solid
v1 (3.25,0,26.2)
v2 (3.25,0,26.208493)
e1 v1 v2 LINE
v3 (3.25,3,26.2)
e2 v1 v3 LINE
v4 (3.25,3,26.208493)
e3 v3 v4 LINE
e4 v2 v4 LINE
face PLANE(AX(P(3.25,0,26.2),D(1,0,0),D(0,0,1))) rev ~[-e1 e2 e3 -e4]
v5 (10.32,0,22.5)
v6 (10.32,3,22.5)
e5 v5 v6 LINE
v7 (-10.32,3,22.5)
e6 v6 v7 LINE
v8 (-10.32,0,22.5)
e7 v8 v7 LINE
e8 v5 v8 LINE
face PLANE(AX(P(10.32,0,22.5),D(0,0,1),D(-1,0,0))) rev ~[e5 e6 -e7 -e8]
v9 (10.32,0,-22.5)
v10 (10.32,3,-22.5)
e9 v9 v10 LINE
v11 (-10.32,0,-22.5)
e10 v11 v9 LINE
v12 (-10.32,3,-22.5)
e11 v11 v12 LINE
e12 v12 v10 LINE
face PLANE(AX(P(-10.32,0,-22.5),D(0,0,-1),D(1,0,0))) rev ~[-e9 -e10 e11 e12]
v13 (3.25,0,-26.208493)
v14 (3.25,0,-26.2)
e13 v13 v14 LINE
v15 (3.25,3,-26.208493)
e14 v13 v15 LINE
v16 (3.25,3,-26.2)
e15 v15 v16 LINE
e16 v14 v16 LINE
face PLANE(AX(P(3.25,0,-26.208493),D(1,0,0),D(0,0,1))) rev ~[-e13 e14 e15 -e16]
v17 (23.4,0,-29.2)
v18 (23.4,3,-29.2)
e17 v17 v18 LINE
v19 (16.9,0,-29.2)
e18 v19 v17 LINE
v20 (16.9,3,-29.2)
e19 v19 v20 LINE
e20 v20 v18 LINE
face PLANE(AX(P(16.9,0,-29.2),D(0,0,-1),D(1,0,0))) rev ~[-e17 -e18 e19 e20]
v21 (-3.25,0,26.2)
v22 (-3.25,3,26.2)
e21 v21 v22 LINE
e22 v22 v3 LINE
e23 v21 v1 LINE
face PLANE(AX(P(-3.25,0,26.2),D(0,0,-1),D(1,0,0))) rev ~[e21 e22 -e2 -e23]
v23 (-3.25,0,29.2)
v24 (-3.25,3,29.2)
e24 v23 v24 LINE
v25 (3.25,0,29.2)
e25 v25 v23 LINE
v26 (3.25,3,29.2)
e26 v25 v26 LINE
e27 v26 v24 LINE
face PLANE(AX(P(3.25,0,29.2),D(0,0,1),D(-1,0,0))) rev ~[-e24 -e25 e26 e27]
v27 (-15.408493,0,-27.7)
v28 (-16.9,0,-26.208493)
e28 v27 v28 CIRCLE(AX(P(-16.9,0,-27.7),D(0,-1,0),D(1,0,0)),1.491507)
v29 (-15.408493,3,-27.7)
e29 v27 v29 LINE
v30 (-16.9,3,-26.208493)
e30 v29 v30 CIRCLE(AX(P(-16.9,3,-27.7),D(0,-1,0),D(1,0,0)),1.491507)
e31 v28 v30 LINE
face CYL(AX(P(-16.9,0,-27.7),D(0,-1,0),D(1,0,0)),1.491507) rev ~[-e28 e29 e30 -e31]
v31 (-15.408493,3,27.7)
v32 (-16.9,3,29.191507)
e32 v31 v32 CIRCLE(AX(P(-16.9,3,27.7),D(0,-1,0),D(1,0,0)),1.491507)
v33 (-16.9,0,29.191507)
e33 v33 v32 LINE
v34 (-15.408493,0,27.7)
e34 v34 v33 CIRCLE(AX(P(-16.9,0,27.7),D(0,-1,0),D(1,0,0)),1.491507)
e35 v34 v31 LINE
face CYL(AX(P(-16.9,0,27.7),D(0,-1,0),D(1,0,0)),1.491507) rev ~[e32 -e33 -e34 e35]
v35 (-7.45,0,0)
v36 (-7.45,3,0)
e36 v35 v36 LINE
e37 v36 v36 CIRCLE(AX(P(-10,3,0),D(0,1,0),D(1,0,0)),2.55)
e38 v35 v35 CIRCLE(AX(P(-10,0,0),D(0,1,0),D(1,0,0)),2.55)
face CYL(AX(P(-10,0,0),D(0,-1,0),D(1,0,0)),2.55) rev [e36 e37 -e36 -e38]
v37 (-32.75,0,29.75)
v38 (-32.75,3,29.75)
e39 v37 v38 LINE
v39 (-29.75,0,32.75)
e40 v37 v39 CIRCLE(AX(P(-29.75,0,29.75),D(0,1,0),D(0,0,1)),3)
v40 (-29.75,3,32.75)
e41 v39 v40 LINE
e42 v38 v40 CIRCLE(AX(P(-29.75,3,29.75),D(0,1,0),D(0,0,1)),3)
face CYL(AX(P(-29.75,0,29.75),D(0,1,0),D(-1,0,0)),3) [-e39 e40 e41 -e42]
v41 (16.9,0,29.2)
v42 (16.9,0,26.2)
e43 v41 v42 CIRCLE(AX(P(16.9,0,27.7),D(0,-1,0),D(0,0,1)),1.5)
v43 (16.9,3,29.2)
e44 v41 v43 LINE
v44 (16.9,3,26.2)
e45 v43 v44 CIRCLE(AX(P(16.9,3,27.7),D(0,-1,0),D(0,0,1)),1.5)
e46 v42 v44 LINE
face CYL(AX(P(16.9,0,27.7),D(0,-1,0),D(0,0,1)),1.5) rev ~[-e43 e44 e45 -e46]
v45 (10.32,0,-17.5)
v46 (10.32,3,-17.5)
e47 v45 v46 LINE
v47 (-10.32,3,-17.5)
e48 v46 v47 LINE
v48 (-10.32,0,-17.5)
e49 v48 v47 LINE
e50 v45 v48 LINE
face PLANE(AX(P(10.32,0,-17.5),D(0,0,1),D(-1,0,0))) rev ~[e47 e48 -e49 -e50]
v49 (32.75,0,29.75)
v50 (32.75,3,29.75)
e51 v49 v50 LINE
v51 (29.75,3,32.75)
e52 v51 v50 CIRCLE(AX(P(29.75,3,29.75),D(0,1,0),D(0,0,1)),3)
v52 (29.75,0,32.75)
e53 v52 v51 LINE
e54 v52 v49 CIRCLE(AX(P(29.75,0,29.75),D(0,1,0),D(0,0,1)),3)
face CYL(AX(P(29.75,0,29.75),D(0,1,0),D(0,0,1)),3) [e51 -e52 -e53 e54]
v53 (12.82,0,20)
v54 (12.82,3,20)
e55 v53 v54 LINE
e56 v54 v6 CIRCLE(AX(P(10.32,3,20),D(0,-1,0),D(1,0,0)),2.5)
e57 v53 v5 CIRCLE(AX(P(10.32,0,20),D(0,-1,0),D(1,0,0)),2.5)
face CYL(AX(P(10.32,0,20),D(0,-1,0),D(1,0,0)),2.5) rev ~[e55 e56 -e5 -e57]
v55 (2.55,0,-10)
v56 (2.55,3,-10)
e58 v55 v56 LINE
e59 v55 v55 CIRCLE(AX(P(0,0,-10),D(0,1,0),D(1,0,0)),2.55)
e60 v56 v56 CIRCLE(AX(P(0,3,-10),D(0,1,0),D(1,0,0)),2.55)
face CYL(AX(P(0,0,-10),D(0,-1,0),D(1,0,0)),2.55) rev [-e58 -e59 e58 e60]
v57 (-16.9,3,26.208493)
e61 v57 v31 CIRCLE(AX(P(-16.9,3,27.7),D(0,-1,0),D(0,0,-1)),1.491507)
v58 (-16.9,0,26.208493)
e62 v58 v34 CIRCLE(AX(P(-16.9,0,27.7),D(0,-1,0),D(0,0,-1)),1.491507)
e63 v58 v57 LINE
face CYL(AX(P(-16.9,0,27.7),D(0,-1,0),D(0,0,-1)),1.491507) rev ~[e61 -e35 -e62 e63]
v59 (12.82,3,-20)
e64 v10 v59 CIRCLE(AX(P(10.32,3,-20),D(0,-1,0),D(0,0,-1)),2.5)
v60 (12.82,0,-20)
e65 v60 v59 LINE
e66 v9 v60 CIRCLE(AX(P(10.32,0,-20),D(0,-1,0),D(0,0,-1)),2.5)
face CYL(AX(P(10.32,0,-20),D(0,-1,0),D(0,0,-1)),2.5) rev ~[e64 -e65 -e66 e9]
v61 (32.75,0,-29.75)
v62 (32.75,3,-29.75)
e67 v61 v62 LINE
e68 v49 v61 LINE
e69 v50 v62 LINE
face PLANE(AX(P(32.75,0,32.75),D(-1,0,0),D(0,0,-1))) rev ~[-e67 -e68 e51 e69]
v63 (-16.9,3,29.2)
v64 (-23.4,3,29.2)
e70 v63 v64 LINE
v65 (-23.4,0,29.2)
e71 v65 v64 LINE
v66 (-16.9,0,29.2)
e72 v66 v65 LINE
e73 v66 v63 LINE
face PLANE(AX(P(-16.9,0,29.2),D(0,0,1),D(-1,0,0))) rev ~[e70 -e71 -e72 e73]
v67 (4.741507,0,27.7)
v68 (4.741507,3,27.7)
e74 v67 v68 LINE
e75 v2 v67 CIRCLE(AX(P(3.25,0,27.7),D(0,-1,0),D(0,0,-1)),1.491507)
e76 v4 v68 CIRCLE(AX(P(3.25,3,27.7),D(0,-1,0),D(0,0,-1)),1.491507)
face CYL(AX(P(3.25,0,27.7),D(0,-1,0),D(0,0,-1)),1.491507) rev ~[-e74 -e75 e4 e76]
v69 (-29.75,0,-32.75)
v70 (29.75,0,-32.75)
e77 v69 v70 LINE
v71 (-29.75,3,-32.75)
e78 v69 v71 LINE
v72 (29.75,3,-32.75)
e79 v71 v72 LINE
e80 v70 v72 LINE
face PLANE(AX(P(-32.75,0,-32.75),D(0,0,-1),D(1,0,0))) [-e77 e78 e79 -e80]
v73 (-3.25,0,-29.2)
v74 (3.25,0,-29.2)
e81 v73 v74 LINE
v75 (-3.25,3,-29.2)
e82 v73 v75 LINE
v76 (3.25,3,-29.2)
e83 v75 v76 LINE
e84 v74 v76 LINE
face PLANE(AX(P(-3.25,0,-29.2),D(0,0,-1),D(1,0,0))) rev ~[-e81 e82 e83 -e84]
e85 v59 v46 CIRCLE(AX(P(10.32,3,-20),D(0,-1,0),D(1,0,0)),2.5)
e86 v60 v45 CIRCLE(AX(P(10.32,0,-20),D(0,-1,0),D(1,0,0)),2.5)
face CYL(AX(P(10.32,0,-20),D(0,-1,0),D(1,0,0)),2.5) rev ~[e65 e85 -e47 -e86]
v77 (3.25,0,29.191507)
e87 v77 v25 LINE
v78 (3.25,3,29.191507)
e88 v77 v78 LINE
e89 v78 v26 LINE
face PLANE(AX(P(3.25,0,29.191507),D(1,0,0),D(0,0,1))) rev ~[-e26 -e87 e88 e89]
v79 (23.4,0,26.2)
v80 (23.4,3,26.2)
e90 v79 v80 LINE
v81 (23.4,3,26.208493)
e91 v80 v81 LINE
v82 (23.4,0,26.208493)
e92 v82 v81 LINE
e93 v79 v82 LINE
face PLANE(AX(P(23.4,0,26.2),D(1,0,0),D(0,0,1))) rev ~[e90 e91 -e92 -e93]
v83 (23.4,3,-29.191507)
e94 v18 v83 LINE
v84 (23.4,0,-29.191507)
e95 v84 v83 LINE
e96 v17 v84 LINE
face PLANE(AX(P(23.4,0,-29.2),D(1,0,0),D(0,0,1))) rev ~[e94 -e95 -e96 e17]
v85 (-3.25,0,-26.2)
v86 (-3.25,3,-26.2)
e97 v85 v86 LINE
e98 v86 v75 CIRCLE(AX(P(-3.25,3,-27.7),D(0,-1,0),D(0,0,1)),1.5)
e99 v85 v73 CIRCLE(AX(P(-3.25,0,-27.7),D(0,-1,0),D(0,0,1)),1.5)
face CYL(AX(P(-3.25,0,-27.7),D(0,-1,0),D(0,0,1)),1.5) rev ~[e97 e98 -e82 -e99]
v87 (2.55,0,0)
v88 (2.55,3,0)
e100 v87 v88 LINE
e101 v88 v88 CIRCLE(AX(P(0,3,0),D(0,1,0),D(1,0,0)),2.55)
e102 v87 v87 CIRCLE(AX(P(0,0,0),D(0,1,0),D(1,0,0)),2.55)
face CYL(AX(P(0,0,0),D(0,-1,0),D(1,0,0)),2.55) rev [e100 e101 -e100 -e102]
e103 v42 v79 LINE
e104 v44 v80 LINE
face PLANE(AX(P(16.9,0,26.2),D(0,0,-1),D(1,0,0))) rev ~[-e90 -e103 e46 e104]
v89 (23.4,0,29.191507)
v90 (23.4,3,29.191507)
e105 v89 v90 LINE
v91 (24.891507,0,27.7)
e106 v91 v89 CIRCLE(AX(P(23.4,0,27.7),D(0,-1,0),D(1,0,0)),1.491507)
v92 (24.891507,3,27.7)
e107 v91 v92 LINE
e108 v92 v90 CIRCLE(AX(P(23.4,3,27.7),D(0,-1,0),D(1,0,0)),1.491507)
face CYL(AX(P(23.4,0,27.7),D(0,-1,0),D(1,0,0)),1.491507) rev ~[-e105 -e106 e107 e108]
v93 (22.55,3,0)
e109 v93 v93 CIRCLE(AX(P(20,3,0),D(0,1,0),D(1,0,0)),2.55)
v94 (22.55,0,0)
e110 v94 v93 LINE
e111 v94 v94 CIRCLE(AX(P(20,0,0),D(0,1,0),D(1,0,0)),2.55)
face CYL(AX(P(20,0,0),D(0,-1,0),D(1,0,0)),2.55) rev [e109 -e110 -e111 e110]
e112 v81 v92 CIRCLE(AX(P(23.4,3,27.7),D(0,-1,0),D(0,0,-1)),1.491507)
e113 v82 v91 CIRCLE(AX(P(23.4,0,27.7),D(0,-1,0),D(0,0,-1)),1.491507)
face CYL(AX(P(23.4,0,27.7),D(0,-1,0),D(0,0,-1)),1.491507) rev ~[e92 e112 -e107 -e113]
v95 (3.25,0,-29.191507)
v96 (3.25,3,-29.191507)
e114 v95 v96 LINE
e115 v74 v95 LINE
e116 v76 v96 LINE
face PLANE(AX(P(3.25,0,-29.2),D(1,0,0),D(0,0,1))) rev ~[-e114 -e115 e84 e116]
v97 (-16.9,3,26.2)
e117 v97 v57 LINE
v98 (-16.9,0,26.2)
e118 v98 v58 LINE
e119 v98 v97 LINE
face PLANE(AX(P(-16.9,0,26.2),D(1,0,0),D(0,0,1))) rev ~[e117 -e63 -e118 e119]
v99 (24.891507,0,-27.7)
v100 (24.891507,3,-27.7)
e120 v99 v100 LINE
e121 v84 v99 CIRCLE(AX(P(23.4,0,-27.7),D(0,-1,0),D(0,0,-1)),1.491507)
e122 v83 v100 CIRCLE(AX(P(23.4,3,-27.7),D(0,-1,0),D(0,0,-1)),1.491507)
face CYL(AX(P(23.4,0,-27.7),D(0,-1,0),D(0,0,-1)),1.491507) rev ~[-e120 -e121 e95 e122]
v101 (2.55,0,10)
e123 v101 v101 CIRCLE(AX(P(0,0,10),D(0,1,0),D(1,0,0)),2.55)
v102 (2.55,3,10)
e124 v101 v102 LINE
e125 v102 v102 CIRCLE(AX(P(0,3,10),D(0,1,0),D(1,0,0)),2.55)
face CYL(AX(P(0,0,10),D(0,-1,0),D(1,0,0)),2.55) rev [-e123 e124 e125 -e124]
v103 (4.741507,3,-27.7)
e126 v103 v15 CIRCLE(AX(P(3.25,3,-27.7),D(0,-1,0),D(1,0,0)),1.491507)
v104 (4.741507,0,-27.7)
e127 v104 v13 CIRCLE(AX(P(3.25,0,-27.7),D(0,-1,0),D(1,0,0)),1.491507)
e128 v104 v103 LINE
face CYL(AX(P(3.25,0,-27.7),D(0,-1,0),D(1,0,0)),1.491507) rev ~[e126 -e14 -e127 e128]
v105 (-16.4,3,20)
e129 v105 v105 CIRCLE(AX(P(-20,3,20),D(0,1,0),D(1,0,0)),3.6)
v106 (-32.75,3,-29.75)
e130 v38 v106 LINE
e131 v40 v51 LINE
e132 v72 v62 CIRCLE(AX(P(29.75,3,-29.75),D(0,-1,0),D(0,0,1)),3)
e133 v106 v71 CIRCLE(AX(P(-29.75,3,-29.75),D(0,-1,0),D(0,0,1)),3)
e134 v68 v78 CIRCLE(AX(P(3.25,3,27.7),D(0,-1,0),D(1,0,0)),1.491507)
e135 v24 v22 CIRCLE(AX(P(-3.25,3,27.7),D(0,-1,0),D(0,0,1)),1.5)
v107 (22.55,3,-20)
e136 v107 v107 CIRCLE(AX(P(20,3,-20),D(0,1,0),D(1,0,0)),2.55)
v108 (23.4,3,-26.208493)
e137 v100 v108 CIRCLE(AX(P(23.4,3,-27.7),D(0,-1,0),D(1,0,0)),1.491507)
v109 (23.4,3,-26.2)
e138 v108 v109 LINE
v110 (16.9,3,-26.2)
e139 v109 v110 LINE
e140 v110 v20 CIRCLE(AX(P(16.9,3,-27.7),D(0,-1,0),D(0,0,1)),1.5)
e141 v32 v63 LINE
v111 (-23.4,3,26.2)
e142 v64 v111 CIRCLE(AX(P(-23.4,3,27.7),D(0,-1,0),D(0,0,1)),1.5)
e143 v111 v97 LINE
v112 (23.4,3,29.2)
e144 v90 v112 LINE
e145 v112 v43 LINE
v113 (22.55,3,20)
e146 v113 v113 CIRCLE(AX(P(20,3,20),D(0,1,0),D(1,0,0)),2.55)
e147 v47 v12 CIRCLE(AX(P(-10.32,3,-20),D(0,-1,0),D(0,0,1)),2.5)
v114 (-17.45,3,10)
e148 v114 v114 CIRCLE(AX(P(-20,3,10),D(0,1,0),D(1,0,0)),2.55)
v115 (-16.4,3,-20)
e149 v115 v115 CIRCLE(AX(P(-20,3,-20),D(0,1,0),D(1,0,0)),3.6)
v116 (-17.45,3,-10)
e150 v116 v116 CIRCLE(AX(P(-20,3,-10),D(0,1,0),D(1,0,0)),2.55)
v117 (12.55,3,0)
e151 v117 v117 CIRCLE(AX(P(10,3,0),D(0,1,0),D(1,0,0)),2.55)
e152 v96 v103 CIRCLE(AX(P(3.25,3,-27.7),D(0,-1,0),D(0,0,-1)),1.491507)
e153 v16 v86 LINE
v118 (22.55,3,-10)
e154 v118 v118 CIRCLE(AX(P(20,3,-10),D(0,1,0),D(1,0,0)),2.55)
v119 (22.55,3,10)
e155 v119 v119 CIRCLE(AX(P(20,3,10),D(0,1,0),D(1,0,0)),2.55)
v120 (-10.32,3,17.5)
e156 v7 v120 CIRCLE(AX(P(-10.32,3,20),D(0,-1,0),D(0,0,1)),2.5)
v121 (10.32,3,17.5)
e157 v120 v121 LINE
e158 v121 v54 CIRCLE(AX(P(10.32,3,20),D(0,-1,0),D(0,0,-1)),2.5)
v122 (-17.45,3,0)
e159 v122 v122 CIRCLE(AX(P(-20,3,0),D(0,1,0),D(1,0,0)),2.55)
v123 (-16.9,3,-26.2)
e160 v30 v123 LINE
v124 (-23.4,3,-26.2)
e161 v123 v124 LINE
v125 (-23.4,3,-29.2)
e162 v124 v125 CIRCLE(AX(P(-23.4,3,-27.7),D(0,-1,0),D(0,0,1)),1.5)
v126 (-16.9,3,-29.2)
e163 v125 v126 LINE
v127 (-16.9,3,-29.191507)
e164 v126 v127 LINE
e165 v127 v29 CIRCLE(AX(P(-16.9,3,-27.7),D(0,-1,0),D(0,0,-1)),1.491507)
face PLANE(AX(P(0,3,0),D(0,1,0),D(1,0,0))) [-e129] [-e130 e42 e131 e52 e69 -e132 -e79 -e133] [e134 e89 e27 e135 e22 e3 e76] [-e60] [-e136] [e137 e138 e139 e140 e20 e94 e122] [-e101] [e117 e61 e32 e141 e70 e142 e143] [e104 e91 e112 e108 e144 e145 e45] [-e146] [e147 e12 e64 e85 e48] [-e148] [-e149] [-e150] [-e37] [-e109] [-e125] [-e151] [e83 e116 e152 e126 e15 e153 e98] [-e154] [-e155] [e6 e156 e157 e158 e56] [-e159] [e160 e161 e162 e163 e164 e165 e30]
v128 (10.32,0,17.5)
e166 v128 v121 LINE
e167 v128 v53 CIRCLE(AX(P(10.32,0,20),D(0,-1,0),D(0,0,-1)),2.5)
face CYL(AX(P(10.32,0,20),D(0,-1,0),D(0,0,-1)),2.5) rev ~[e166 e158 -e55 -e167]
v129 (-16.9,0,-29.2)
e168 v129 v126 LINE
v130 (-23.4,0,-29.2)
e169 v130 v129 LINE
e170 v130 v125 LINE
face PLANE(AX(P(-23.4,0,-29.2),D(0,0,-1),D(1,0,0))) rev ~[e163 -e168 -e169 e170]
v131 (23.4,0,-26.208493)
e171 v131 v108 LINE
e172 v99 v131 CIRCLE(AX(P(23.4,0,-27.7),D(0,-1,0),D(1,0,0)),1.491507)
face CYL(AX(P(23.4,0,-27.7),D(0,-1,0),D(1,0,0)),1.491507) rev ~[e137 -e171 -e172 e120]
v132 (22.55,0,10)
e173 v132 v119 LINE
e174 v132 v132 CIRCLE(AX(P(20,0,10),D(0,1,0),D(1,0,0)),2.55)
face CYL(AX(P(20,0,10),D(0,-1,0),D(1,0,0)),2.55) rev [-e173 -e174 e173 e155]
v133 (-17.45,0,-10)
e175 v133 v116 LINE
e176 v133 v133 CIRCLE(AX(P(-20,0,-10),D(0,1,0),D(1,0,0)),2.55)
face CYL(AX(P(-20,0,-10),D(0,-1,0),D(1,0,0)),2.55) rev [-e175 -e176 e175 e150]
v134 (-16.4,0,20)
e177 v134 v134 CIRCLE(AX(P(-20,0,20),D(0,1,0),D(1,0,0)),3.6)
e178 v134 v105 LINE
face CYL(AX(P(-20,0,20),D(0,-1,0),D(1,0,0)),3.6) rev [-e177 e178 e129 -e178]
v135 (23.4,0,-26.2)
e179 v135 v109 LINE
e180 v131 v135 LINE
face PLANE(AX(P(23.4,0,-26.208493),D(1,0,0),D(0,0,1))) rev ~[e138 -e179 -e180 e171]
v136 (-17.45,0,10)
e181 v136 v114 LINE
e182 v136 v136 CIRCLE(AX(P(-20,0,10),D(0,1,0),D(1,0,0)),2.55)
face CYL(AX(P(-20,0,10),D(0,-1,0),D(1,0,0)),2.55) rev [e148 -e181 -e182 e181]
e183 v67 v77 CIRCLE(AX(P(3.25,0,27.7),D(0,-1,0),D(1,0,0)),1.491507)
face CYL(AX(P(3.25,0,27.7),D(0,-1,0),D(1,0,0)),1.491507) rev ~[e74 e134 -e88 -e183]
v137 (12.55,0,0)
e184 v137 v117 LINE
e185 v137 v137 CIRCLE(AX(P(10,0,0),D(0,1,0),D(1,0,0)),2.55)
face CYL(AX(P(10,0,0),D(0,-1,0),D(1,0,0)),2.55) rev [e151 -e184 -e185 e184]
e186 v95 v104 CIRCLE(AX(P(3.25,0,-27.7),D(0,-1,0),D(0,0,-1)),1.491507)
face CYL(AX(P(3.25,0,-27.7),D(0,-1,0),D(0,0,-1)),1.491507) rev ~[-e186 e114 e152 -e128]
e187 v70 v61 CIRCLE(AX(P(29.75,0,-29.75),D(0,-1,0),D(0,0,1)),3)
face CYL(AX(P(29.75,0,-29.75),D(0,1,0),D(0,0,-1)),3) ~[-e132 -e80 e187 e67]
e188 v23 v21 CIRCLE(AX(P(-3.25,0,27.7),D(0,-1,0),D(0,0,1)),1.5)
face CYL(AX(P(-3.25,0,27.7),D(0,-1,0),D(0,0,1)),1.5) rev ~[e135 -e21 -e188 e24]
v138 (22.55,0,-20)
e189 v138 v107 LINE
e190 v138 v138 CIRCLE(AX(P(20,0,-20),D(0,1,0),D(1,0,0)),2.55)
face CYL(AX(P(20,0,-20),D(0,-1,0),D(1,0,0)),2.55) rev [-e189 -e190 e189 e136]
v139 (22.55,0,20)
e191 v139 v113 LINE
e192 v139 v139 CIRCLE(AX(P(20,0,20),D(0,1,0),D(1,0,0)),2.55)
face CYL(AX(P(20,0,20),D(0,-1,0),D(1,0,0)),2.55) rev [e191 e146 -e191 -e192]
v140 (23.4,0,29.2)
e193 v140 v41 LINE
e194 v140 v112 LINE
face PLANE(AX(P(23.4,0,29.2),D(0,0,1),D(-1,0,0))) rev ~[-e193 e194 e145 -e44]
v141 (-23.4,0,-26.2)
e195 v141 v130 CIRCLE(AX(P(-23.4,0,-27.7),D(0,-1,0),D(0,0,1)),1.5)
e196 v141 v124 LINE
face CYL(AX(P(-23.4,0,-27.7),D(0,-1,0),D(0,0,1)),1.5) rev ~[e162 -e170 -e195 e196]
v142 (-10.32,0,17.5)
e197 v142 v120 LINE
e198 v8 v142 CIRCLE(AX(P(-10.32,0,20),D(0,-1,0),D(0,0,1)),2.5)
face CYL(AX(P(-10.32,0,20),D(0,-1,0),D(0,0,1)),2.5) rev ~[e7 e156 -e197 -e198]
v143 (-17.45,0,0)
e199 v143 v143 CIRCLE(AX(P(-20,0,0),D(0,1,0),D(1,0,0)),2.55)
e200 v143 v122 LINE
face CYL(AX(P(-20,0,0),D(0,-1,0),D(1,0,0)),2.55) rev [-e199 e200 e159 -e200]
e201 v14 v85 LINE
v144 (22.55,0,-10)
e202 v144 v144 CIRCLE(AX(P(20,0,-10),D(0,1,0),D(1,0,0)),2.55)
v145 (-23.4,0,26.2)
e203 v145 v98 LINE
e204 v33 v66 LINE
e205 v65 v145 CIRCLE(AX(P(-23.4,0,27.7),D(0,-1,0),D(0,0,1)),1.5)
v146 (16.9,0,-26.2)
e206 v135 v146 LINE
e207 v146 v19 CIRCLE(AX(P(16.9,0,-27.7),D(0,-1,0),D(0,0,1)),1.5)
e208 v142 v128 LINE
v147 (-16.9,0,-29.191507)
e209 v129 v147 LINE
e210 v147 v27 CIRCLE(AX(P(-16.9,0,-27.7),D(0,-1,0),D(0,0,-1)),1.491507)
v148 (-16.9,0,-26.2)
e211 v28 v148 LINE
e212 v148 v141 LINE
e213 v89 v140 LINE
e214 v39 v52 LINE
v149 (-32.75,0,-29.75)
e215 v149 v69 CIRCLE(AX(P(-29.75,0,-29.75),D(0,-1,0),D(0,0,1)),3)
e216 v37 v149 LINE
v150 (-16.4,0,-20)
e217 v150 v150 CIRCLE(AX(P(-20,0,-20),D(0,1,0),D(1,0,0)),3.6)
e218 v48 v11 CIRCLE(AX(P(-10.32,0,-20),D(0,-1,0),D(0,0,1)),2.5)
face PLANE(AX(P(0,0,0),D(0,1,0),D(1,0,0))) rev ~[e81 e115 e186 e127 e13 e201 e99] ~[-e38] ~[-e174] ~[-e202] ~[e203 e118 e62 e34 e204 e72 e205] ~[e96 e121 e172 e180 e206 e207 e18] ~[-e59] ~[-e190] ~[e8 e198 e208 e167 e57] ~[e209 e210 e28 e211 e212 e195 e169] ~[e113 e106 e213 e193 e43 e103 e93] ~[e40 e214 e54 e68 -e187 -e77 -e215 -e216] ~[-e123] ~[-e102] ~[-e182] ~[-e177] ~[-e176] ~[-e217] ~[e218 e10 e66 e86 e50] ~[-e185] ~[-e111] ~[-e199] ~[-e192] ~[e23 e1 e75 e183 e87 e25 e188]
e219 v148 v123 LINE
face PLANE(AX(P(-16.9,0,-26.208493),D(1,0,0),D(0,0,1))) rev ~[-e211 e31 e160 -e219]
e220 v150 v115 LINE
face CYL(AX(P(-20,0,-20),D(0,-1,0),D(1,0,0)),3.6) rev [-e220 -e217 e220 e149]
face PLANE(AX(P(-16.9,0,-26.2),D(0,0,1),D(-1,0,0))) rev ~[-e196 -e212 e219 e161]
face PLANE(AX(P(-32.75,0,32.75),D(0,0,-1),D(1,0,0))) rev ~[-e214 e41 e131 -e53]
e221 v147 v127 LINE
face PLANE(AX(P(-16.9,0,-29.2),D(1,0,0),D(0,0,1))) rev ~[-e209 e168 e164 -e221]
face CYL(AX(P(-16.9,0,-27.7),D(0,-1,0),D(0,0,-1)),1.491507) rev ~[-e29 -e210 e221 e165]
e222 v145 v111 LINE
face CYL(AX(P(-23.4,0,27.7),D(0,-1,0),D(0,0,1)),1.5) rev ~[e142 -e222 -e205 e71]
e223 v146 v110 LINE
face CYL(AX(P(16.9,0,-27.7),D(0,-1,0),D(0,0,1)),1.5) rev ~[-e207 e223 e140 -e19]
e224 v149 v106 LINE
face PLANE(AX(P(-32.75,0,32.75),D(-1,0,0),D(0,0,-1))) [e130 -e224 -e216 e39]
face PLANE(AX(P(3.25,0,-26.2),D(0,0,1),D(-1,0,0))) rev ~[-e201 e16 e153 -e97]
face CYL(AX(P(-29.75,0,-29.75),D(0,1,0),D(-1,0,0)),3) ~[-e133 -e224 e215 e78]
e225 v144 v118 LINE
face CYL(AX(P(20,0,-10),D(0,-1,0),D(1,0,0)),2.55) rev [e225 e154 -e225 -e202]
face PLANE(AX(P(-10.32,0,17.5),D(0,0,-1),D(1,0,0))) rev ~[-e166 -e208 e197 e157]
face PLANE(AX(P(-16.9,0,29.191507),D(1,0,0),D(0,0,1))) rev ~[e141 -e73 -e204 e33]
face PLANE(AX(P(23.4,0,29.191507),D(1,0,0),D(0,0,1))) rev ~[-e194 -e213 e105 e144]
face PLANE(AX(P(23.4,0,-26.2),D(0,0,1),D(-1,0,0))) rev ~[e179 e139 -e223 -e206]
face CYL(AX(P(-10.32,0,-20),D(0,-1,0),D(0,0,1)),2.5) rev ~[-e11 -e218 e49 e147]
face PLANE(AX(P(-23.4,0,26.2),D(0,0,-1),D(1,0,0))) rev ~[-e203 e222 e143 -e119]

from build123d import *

# Parameters (mm, degrees)
SKETCH1_W           = 65.5
SKETCH1_H           = 65.5
SKETCH1_R           = 3.6
SKETCH1_R_2         = 2.55
BOSS_EXTRUDE1_DEPTH = 3
FILLET2_R           = 3


with BuildPart() as part:
    # Sketch1 → Boss-Extrude1 (new body)
    with BuildSketch(Plane(origin=(0, 0, 0), x_dir=(1, 0, 0), z_dir=(0, 1, 0))):
        Rectangle(SKETCH1_W, SKETCH1_H)
        with BuildLine():
            Line((-16.9, -29.191507266), (-16.9, -29.2))
            Line((-16.9, -29.2), (-23.4, -29.2))
            ThreePointArc((-23.4, -29.2), (-24.9, -27.7), (-23.4, -26.2))
            Line((-23.4, -26.2), (-16.9, -26.2))
            Line((-16.9, -26.2), (-16.9, -26.208492734))
            ThreePointArc((-16.9, -26.208492734), (-15.845345098, -26.645345098), (-15.408492734, -27.7))
            ThreePointArc((-15.408492734, -27.7), (-15.845345098, -28.754654902), (-16.9, -29.191507266))
        make_face(mode=Mode.SUBTRACT)
        with Locations((-20, -20)):
            Circle(SKETCH1_R, mode=Mode.SUBTRACT)
        with BuildLine():
            Line((-3.25, -26.2), (3.25, -26.2))
            Line((3.25, -26.2), (3.25, -26.208492734))
            ThreePointArc((3.25, -26.208492734), (4.304654902, -26.645345098), (4.741507266, -27.7))
            ThreePointArc((4.741507266, -27.7), (4.304654902, -28.754654902), (3.25, -29.191507266))
            Line((3.25, -29.191507266), (3.25, -29.2))
            Line((3.25, -29.2), (-3.25, -29.2))
            ThreePointArc((-3.25, -29.2), (-4.75, -27.7), (-3.25, -26.2))
        make_face(mode=Mode.SUBTRACT)
        with BuildLine():
            Line((-10.32, -17.5), (10.32, -17.5))
            ThreePointArc((10.32, -17.5), (12.087766953, -18.232233047), (12.82, -20))
            ThreePointArc((12.82, -20), (12.087766953, -21.767766953), (10.32, -22.5))
            Line((10.32, -22.5), (-10.32, -22.5))
            ThreePointArc((-10.32, -22.5), (-12.82, -20), (-10.32, -17.5))
        make_face(mode=Mode.SUBTRACT)
        with Locations((-20, -10)):
            Circle(SKETCH1_R_2, mode=Mode.SUBTRACT)
        with Locations((0, -10)):
            Circle(SKETCH1_R_2, mode=Mode.SUBTRACT)
        with BuildLine():
            Line((23.4, -29.191507266), (23.4, -29.2))
            Line((23.4, -29.2), (16.9, -29.2))
            ThreePointArc((16.9, -29.2), (15.4, -27.7), (16.9, -26.2))
            Line((16.9, -26.2), (23.4, -26.2))
            Line((23.4, -26.2), (23.4, -26.208492734))
            ThreePointArc((23.4, -26.208492734), (24.454654902, -26.645345098), (24.891507266, -27.7))
            ThreePointArc((24.891507266, -27.7), (24.454654902, -28.754654902), (23.4, -29.191507266))
        make_face(mode=Mode.SUBTRACT)
        with Locations((20, -20)):
            Circle(SKETCH1_R_2, mode=Mode.SUBTRACT)
        Circle(SKETCH1_R_2, mode=Mode.SUBTRACT)
        with Locations((20, -10)):
            Circle(SKETCH1_R_2, mode=Mode.SUBTRACT)
        with Locations((-20, 0)):
            Circle(SKETCH1_R_2, mode=Mode.SUBTRACT)
        with Locations((-20, 10)):
            Circle(SKETCH1_R_2, mode=Mode.SUBTRACT)
        with Locations((-10, 0)):
            Circle(SKETCH1_R_2, mode=Mode.SUBTRACT)
        with Locations((-20, 20)):
            Circle(SKETCH1_R, mode=Mode.SUBTRACT)
        with BuildLine():
            Line((-23.4, 29.2), (-16.9, 29.2))
            Line((-16.9, 29.2), (-16.9, 29.191507266))
            ThreePointArc((-16.9, 29.191507266), (-15.845345098, 28.754654902), (-15.408492734, 27.7))
            ThreePointArc((-15.408492734, 27.7), (-15.845345098, 26.645345098), (-16.9, 26.208492734))
            Line((-16.9, 26.208492734), (-16.9, 26.2))
            Line((-16.9, 26.2), (-23.4, 26.2))
            ThreePointArc((-23.4, 26.2), (-24.9, 27.7), (-23.4, 29.2))
        make_face(mode=Mode.SUBTRACT)
        with BuildLine():
            Line((-10.32, 22.5), (10.32, 22.5))
            ThreePointArc((10.32, 22.5), (12.087766953, 21.767766953), (12.82, 20))
            ThreePointArc((12.82, 20), (12.087766953, 18.232233047), (10.32, 17.5))
            Line((10.32, 17.5), (-10.32, 17.5))
            ThreePointArc((-10.32, 17.5), (-12.82, 20), (-10.32, 22.5))
        make_face(mode=Mode.SUBTRACT)
        with BuildLine():
            Line((-3.25, 29.2), (3.25, 29.2))
            Line((3.25, 29.2), (3.25, 29.191507266))
            ThreePointArc((3.25, 29.191507266), (4.304654902, 28.754654902), (4.741507266, 27.7))
            ThreePointArc((4.741507266, 27.7), (4.304654902, 26.645345098), (3.25, 26.208492734))
            Line((3.25, 26.208492734), (3.25, 26.2))
            Line((3.25, 26.2), (-3.25, 26.2))
            ThreePointArc((-3.25, 26.2), (-4.75, 27.7), (-3.25, 29.2))
        make_face(mode=Mode.SUBTRACT)
        with Locations((10, 0)):
            Circle(SKETCH1_R_2, mode=Mode.SUBTRACT)
        with Locations((0, 10)):
            Circle(SKETCH1_R_2, mode=Mode.SUBTRACT)
        with Locations((20, 0)):
            Circle(SKETCH1_R_2, mode=Mode.SUBTRACT)
        with Locations((20, 10)):
            Circle(SKETCH1_R_2, mode=Mode.SUBTRACT)
        with Locations((20, 20)):
            Circle(SKETCH1_R_2, mode=Mode.SUBTRACT)
        with BuildLine():
            Line((16.9, 29.2), (23.4, 29.2))
            Line((23.4, 29.2), (23.4, 29.191507266))
            ThreePointArc((23.4, 29.191507266), (24.454654902, 28.754654902), (24.891507266, 27.7))
            ThreePointArc((24.891507266, 27.7), (24.454654902, 26.645345098), (23.4, 26.208492734))
            Line((23.4, 26.208492734), (23.4, 26.2))
            Line((23.4, 26.2), (16.9, 26.2))
            ThreePointArc((16.9, 26.2), (15.4, 27.7), (16.9, 29.2))
        make_face(mode=Mode.SUBTRACT)
    extrude(amount=BOSS_EXTRUDE1_DEPTH)

    # Fillet2
    fillet2_edges = [part.edges().sort_by_distance(p)[0] for p in [
        (-32.75, 1.5, -32.75),
        (32.75, 1.5, -32.75),
        (32.75, 1.5, 32.75),
        (-32.75, 1.5, 32.75),
    ]]
    fillet(fillet2_edges, radius=FILLET2_R)


solid = part.part
